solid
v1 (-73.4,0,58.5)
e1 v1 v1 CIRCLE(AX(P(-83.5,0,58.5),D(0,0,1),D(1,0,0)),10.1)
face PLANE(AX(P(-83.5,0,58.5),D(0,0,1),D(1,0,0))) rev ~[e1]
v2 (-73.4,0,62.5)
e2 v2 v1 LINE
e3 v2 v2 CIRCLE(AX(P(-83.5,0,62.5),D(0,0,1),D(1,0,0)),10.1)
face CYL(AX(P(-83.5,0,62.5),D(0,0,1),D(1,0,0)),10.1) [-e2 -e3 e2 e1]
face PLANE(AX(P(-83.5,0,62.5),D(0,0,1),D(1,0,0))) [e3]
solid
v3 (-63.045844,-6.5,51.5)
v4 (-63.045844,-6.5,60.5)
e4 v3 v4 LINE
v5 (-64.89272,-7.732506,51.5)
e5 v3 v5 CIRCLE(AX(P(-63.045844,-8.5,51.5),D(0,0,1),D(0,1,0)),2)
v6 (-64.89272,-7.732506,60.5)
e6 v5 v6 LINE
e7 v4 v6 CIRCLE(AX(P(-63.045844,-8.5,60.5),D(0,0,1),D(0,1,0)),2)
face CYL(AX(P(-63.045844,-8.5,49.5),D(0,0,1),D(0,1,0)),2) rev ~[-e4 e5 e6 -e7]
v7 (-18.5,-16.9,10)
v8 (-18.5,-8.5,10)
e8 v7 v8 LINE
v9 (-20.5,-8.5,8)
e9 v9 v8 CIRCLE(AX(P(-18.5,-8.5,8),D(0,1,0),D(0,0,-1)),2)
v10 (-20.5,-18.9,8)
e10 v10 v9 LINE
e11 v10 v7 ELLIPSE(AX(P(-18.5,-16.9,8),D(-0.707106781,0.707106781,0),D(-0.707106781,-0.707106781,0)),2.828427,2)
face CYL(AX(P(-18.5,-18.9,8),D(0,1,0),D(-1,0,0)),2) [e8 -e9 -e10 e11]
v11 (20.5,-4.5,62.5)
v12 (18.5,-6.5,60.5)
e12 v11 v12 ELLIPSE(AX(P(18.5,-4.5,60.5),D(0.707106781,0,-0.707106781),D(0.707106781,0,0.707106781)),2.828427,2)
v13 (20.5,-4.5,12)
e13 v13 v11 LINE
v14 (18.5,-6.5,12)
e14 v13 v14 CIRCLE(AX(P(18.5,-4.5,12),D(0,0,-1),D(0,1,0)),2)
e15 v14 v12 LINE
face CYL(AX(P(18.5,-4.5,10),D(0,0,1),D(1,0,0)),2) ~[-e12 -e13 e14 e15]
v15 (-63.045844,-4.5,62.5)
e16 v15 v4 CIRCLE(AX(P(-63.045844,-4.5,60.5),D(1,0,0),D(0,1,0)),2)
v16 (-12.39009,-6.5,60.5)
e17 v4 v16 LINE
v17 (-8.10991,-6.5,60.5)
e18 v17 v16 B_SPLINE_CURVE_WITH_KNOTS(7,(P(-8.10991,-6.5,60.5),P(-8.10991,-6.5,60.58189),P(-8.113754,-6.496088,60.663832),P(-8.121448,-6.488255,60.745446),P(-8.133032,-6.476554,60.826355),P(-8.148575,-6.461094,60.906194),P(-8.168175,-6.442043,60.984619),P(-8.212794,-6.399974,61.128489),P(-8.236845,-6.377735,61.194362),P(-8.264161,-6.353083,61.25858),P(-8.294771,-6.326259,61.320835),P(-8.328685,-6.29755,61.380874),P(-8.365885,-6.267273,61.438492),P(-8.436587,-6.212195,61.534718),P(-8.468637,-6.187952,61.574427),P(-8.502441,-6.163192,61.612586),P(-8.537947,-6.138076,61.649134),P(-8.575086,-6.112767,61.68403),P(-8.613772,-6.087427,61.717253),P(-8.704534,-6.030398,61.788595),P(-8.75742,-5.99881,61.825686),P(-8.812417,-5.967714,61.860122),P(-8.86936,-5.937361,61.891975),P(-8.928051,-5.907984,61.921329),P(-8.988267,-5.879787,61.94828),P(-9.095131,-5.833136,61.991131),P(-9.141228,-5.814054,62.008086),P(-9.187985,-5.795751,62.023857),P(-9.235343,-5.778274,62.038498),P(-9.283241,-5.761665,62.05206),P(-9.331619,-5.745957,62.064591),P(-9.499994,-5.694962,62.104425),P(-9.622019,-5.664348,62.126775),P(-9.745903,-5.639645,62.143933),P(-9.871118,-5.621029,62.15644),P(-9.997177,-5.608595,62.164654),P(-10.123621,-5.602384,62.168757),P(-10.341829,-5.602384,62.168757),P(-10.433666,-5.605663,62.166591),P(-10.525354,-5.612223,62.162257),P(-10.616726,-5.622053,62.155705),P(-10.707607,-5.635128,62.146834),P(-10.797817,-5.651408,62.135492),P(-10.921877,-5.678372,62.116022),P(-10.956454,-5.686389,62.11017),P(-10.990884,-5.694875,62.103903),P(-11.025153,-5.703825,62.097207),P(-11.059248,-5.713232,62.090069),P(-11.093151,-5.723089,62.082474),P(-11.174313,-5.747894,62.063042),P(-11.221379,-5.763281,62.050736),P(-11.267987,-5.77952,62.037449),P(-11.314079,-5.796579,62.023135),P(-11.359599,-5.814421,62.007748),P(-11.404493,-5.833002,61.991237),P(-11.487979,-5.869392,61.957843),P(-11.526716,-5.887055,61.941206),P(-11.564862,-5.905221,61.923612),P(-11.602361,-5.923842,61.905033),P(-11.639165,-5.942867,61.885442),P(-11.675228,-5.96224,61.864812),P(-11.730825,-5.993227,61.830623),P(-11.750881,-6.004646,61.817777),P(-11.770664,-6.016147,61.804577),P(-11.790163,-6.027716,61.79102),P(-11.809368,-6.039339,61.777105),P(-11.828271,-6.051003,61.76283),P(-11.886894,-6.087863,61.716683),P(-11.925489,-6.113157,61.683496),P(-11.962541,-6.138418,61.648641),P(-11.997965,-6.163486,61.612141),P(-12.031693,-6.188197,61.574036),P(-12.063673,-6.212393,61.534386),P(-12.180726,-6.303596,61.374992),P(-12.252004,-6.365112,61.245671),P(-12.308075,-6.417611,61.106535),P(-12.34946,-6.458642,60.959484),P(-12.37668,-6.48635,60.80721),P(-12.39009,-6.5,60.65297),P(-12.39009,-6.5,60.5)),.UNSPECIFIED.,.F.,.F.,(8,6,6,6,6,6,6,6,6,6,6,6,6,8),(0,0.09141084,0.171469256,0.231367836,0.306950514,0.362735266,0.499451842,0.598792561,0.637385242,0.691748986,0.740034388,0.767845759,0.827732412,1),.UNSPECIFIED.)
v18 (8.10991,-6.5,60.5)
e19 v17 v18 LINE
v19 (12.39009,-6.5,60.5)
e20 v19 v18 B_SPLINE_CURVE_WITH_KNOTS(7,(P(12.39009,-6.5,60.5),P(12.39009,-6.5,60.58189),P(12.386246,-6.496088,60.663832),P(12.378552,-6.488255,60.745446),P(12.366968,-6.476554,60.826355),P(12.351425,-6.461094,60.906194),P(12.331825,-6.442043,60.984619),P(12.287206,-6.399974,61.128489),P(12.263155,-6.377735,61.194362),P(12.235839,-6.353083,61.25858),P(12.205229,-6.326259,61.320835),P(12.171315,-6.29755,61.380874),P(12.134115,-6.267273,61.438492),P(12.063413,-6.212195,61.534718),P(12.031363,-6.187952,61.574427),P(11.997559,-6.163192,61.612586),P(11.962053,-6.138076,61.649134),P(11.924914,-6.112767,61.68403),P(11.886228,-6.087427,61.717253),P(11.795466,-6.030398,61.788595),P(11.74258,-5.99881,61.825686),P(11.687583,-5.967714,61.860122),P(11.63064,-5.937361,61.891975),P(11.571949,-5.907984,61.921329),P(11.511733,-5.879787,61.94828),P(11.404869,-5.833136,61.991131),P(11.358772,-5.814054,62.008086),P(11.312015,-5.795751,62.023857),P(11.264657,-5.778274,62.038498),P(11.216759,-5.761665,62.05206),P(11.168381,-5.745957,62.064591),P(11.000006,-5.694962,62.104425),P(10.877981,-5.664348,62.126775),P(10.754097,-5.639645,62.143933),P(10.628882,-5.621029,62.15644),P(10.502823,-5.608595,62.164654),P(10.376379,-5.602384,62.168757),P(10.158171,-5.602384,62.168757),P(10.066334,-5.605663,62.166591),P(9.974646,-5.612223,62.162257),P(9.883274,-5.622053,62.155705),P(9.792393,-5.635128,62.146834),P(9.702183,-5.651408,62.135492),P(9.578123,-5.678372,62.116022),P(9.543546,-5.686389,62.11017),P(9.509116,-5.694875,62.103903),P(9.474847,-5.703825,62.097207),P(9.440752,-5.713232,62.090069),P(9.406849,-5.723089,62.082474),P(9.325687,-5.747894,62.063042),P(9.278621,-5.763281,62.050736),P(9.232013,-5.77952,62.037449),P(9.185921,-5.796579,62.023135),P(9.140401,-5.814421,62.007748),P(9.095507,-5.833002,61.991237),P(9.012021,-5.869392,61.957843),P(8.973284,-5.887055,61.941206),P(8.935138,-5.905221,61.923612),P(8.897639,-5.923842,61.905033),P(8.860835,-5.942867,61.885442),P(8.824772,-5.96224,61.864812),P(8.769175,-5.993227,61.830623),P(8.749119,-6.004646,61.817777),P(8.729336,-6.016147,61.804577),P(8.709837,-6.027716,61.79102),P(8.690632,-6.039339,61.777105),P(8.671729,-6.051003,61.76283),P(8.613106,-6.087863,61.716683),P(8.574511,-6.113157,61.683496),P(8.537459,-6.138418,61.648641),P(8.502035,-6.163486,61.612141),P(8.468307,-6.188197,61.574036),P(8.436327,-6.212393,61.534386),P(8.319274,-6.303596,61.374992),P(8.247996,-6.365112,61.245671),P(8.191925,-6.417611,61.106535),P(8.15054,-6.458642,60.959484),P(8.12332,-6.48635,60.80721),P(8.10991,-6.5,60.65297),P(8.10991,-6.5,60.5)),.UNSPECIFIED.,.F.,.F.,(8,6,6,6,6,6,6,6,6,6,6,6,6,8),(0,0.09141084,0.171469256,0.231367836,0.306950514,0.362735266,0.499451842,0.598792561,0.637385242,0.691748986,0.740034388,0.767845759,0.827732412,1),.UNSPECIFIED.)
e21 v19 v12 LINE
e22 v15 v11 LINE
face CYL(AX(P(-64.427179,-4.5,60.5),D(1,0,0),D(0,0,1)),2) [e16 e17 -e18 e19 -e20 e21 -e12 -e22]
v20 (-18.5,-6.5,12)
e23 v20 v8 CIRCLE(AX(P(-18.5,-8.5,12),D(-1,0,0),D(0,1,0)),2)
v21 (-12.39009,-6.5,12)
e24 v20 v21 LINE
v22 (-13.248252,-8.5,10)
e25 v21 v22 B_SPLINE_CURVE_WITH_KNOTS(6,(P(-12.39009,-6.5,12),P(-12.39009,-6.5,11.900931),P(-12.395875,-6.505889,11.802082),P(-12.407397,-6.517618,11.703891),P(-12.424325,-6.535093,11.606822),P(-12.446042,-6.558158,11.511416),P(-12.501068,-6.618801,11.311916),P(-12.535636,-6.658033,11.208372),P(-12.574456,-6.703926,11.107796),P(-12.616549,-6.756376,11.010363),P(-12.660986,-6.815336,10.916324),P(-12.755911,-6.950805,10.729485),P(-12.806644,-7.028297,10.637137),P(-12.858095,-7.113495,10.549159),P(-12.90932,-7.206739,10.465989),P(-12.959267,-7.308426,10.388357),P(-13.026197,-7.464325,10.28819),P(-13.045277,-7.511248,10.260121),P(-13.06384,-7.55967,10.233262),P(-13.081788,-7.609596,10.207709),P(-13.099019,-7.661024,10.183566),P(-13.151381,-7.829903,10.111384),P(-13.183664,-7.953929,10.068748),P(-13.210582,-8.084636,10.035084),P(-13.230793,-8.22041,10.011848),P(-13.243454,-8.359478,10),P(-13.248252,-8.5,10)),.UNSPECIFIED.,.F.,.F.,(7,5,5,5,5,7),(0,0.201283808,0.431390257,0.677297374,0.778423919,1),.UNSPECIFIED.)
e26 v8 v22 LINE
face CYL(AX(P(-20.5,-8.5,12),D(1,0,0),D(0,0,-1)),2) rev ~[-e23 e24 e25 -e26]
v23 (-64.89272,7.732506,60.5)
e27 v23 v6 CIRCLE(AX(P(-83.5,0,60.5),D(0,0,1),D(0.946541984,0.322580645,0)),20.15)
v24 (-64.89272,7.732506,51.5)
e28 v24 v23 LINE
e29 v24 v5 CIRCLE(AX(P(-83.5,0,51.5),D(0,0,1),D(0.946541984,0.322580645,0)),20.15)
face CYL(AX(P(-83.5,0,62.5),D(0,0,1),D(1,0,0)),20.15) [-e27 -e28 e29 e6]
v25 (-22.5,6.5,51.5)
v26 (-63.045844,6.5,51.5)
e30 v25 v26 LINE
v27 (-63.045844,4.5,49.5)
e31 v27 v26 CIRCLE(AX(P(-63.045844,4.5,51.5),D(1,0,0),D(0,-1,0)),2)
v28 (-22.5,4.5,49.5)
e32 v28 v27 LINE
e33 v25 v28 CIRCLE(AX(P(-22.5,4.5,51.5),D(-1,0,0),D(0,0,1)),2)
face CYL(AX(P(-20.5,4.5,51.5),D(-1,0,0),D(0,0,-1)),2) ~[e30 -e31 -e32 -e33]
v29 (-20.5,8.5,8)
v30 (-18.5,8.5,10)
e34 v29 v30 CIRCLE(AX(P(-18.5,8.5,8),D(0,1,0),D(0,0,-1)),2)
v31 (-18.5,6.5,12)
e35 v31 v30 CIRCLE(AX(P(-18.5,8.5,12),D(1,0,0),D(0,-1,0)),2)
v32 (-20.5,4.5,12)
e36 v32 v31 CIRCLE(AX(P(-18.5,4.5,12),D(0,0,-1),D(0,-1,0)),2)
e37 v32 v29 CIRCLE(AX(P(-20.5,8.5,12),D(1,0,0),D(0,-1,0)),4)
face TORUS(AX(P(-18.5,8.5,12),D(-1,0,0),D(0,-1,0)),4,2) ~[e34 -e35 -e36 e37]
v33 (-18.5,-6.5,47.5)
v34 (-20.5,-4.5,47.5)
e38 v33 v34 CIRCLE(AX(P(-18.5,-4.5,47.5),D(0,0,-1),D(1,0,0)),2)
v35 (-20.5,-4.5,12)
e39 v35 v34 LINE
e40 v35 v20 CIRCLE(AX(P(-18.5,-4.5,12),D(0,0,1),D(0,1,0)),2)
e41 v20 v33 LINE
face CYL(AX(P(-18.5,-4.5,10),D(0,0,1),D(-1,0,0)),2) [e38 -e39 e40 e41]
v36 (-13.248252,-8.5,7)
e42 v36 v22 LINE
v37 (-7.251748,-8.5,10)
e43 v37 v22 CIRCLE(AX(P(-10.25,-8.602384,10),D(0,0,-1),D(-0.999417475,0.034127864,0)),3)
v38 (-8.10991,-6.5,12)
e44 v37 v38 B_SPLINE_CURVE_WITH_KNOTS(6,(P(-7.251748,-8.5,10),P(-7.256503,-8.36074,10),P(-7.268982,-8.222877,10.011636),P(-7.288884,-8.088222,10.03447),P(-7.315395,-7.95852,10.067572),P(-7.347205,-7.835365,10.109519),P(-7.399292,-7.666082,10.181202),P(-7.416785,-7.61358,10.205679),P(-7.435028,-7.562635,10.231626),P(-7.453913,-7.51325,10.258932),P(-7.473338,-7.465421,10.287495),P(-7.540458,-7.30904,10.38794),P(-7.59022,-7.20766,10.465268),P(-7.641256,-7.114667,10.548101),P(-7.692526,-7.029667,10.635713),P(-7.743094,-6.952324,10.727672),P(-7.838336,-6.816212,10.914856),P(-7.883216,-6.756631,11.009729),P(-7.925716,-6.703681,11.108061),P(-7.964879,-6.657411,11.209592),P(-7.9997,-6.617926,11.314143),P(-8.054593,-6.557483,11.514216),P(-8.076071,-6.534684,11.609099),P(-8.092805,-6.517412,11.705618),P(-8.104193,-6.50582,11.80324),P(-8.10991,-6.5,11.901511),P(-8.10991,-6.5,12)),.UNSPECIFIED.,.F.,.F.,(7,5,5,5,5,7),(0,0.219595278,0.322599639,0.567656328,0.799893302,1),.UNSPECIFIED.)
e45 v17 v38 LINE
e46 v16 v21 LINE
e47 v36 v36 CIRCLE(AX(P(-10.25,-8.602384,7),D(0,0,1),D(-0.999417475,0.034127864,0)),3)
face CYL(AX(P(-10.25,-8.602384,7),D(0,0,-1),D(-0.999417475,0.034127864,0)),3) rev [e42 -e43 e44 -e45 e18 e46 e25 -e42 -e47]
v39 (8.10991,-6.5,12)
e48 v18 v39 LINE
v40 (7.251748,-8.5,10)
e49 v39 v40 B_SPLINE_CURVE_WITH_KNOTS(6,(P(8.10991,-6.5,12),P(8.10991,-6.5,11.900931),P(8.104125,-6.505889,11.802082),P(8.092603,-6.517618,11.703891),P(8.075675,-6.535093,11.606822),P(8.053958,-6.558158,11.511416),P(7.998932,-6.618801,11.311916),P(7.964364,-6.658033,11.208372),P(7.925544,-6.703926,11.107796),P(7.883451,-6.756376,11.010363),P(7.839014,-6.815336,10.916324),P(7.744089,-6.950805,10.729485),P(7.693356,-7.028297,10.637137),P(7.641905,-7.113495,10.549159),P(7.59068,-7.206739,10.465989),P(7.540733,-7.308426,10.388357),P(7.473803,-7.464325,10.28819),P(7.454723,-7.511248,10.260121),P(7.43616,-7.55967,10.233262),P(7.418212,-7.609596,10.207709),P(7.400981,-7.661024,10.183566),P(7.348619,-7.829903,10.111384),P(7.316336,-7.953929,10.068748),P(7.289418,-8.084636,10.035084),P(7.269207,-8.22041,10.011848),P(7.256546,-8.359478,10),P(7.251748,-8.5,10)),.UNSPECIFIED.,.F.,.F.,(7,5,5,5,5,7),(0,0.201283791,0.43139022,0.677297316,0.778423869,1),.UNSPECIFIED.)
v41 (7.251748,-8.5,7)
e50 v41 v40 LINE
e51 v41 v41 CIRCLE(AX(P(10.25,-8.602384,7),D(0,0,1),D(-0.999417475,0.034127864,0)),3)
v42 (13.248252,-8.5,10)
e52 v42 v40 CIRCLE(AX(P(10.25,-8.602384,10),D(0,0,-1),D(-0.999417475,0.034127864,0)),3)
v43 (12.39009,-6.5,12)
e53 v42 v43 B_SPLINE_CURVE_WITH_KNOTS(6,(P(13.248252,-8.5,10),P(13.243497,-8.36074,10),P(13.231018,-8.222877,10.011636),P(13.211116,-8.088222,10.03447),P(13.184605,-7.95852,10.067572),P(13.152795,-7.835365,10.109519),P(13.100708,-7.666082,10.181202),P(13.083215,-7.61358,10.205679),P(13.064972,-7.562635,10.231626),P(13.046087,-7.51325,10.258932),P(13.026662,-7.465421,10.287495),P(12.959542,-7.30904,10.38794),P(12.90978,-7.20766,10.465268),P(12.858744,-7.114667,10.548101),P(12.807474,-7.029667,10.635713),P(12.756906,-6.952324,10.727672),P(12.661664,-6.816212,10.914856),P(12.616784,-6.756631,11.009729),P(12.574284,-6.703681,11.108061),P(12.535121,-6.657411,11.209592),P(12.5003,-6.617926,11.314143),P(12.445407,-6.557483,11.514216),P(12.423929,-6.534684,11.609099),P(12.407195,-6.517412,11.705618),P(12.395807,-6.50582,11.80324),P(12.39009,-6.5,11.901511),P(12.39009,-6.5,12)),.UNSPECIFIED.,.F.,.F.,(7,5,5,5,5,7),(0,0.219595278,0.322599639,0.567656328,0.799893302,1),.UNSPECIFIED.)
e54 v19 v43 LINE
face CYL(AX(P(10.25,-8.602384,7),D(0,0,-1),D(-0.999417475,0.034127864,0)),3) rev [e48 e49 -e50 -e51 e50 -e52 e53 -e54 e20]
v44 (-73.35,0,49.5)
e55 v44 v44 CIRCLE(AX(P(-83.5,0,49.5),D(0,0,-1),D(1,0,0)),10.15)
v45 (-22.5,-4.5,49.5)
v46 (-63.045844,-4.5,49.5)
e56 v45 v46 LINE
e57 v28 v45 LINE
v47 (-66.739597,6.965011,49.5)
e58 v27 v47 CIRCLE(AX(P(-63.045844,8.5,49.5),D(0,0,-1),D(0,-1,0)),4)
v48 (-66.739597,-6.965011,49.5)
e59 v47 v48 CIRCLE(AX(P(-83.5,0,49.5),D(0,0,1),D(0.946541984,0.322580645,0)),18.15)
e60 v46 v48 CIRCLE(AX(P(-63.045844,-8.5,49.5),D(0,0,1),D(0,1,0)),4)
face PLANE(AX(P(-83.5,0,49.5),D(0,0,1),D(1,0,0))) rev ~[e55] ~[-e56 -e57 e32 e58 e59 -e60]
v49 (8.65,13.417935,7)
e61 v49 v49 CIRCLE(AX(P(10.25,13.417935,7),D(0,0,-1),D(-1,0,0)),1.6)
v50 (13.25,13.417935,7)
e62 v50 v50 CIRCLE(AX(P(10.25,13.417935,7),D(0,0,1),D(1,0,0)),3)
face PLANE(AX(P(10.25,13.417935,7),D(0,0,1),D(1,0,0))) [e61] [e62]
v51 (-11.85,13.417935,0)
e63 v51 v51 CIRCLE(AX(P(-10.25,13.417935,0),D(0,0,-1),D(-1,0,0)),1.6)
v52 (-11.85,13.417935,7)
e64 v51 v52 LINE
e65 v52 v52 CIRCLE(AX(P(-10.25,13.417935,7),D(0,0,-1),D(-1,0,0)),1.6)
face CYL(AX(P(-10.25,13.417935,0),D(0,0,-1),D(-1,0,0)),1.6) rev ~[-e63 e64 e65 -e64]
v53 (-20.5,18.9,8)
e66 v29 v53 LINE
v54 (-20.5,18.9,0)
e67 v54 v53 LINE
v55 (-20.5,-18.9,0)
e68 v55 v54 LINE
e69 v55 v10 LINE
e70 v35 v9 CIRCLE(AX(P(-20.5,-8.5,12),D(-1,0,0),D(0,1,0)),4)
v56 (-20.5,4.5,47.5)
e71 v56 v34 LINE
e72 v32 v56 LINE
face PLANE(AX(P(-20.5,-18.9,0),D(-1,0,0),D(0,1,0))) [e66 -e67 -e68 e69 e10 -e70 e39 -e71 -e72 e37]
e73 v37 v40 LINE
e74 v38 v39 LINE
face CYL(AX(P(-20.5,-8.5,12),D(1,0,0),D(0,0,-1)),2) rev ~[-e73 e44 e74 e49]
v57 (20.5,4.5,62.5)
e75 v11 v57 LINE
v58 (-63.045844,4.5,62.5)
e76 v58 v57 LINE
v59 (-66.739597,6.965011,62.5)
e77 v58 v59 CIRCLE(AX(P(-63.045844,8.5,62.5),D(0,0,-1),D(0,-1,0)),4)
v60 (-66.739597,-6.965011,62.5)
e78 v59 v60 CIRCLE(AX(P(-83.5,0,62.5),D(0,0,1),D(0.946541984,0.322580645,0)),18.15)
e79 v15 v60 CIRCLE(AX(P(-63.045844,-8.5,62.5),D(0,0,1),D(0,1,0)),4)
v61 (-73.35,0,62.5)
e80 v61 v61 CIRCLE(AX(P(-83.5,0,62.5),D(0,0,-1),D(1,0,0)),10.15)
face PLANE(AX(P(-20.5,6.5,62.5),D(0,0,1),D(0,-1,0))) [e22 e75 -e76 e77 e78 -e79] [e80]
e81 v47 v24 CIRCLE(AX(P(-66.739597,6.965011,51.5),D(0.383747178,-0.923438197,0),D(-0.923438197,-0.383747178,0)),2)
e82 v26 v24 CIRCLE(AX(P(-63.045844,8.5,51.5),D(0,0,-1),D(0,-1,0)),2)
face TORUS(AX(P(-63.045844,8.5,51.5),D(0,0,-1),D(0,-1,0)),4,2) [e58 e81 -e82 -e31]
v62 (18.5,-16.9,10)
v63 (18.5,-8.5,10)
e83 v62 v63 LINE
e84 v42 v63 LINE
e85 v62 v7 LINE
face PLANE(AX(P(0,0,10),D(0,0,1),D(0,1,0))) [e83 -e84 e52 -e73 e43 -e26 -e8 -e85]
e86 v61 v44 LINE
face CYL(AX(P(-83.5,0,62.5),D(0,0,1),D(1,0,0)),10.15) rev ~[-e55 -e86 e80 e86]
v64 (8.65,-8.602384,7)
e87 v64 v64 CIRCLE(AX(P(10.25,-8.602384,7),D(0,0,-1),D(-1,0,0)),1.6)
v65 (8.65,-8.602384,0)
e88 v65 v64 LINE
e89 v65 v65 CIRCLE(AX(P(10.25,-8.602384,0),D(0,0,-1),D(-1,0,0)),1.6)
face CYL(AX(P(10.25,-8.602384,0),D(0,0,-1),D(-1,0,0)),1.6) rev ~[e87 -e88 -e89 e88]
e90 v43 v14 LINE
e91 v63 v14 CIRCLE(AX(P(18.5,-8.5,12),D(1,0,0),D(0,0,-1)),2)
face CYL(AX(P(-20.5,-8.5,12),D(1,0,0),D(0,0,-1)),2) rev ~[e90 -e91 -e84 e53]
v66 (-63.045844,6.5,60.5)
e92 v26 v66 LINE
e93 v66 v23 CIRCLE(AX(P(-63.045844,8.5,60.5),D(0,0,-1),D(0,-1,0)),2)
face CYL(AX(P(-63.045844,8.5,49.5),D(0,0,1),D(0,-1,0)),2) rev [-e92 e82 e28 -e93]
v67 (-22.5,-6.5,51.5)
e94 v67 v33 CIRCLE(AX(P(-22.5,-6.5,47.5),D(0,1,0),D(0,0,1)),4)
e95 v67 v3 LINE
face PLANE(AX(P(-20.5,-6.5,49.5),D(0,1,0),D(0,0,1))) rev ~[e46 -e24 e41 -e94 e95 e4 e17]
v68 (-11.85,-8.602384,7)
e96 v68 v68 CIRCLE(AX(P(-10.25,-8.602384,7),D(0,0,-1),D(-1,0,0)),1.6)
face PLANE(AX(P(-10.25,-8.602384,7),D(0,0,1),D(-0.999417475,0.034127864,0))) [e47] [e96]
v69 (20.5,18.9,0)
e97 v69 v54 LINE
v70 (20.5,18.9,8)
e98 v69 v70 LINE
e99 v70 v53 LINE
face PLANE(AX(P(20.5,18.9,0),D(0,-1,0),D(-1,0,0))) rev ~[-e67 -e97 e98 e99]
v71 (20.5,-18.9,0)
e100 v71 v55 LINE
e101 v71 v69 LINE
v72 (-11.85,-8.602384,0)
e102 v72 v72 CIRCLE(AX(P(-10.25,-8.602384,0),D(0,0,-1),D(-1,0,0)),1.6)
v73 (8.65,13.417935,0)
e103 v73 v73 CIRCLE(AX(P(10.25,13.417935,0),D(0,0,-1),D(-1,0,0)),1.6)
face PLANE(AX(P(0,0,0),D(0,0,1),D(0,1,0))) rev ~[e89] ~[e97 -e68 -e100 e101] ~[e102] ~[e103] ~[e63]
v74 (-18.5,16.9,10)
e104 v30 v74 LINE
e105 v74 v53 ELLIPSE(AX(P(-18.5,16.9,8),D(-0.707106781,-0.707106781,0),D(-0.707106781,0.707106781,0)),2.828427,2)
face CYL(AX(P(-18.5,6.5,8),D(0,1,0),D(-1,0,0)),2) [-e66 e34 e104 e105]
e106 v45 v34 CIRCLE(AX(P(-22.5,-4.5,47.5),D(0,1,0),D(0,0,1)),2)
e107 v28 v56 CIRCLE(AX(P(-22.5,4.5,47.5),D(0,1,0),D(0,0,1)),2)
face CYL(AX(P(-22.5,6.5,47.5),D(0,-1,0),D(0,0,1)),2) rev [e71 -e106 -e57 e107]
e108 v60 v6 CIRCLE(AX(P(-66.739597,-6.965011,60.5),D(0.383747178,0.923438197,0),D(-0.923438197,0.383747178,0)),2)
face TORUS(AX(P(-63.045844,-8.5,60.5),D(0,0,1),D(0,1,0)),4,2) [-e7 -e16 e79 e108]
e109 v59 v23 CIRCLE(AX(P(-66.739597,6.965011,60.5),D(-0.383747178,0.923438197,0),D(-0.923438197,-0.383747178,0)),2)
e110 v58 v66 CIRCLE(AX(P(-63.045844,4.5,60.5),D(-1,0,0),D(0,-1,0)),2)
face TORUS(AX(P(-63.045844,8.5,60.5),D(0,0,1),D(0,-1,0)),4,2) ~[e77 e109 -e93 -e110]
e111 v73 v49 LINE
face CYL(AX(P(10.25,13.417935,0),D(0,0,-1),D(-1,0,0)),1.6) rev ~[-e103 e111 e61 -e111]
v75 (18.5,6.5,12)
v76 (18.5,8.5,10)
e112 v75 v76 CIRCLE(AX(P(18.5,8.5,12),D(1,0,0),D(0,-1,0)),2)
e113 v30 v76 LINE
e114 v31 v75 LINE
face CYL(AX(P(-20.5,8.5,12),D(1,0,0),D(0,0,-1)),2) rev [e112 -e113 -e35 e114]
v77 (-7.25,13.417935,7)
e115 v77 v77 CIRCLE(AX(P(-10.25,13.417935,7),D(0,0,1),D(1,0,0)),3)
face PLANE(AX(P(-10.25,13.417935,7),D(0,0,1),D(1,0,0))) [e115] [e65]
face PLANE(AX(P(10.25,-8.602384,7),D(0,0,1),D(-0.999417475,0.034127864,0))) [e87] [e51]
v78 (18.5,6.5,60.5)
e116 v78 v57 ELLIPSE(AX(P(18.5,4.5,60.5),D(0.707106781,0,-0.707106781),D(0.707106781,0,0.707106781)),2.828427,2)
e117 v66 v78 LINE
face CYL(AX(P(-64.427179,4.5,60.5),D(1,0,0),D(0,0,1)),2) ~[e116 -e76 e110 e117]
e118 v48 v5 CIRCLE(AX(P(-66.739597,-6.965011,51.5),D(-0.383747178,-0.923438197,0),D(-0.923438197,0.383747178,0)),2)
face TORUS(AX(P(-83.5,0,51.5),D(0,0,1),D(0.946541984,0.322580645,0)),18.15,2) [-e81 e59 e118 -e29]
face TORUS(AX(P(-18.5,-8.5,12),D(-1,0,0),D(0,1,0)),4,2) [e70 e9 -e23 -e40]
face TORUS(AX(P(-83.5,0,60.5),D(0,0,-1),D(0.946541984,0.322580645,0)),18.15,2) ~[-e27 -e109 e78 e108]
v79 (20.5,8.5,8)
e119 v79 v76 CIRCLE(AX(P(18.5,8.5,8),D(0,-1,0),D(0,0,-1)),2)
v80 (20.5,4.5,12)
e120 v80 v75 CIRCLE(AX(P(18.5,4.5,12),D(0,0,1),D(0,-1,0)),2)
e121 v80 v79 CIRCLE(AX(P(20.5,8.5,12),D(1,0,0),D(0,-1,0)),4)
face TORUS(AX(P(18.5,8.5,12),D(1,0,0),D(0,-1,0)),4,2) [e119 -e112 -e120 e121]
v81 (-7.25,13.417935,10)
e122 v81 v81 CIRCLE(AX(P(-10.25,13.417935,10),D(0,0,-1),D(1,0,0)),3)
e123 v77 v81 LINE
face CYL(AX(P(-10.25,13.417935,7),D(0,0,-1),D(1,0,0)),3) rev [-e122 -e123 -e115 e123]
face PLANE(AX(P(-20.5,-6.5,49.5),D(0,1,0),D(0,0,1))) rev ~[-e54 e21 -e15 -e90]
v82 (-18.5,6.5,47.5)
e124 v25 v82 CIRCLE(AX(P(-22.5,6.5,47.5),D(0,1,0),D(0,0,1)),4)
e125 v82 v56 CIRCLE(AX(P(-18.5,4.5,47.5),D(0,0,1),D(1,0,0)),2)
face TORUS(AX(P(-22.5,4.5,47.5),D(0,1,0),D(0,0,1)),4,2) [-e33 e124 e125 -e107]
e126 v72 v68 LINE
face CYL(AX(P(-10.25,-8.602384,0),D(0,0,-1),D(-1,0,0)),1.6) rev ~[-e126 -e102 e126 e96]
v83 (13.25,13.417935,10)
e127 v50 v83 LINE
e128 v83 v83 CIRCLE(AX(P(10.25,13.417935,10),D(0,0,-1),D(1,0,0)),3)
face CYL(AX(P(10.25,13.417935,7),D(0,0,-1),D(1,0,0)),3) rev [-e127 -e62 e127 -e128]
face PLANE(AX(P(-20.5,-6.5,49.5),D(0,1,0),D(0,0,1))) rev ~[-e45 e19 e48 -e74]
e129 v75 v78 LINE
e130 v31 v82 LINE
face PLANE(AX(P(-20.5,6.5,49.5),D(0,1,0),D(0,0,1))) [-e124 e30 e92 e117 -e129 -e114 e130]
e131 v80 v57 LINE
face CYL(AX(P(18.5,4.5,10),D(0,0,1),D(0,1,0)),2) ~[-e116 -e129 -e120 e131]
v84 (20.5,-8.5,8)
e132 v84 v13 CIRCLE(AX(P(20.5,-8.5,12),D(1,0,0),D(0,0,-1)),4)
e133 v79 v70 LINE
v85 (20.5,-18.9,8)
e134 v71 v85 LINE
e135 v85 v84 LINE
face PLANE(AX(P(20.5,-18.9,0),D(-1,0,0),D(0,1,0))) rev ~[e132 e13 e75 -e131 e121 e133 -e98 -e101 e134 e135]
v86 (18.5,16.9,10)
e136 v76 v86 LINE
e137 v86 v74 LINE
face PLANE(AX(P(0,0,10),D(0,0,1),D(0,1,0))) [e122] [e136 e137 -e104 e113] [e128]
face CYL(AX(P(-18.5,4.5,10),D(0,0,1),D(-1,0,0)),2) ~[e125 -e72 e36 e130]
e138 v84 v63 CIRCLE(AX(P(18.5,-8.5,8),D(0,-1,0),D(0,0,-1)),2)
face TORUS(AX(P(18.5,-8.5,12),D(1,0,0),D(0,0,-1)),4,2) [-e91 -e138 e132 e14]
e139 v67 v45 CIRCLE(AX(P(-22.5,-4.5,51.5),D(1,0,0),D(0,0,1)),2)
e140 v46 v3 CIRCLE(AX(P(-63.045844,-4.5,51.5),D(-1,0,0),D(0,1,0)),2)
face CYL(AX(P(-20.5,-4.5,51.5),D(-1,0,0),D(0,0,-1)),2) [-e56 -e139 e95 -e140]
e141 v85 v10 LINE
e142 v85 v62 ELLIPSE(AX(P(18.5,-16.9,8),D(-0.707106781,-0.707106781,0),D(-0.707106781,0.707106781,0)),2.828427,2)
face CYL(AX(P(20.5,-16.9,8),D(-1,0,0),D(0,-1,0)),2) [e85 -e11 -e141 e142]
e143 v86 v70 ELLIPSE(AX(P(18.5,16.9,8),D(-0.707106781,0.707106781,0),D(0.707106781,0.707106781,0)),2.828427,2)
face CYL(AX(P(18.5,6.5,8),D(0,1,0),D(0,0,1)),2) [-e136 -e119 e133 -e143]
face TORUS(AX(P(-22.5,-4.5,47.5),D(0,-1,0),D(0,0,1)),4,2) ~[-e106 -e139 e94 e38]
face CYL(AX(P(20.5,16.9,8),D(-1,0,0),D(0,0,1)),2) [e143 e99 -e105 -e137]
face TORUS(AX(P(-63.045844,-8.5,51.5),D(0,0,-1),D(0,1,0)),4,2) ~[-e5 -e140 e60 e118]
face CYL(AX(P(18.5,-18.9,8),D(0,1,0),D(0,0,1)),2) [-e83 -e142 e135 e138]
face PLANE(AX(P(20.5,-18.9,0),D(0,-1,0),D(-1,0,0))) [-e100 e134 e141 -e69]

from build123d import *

# Parameters (mm, degrees)
SKETCH1_W               = 37.8
SKETCH1_H               = 41
BOSS_EXTRUDE1_DEPTH     = 10
SKETCH2_W               = 41
SKETCH2_H               = 13
BOSS_EXTRUDE2_DEPTH     = 52.5
SKETCH3_W               = 13
SKETCH3_H               = 13
BOSS_EXTRUDE3_DEPTH     = 63
SKETCH4_R               = 20.15
SKETCH4_R_2             = 10.15
EXTRUDE_THIN1_DEPTH     = 13
SKETCH5_R               = 10.15
CUT_EXTRUDE1_DEPTH      = 100
SKETCH6_R               = 10.1
BOSS_EXTRUDE4_DEPTH     = 4
FILLET2_R               = 2
SKETCH7_R               = 1.6
CUT_EXTRUDE2_DEPTH      = 123.701242963
CUT_EXTRUDE3_DEPTH      = 118.921987029
CUT_EXTRUDE3_DEPTH_BACK = 3
SKETCH8_R               = 3


with BuildPart() as part:
    # Sketch1 → Boss-Extrude1 (new body)
    with BuildSketch(Plane(origin=(0, 0, 0), x_dir=(0, 1, 0), z_dir=(0, 0, 1))):
        Rectangle(SKETCH1_W, SKETCH1_H)
    extrude(amount=BOSS_EXTRUDE1_DEPTH)

    # Sketch2 → Boss-Extrude2 (add)
    with BuildSketch(Plane.XY.offset(10)):
        Rectangle(SKETCH2_W, SKETCH2_H)
    extrude(amount=BOSS_EXTRUDE2_DEPTH)

    # Sketch3 → Boss-Extrude3 (add)
    with BuildSketch(Plane(origin=(-20.5, 0, 0), x_dir=(0, -1, 0), z_dir=(-1, 0, 0))):
        with Locations((0, 56)):
            Rectangle(SKETCH3_W, SKETCH3_H)
    extrude(amount=BOSS_EXTRUDE3_DEPTH)

    # Sketch4 → Extrude-Thin1 (add)
    with BuildSketch(Plane.XY.offset(62.5)):
        with Locations((-83.5, 0)):
            Circle(SKETCH4_R)
        with Locations((-83.5, 0)):
            Circle(SKETCH4_R_2, mode=Mode.SUBTRACT)
    extrude(amount=-EXTRUDE_THIN1_DEPTH)

    # Sketch5 → Cut-Extrude1 (cut)
    with BuildSketch(Plane.XY.offset(62.5)):
        with Locations((-83.5, 0)):
            Circle(SKETCH5_R)
    extrude(amount=-CUT_EXTRUDE1_DEPTH, mode=Mode.SUBTRACT)

    # Fillet2
    fillet2_edges = [part.edges().sort_by_distance(p)[0] for p in [
        (0, -18.9, 10),
        (-20.5, -12.7, 10),
        (20.5, 12.7, 10),
        (20.5, -12.7, 10),
        (20.5, -6.5, 36.25),
        (0, 6.5, 10),
        (20.5, 6.5, 36.25),
        (0, -6.5, 10),
        (-21.963589512, 6.5, 62.5),
        (-20.5, -6.5, 29.75),
        (-20.5, 6.5, 29.75),
        (-20.5, 0, 49.5),
        (-42.463589512, -6.5, 49.5),
        (-42.463589512, 6.5, 49.5),
        (-21.963589512, -6.5, 62.5),
        (-103.65, 0, 62.5),
        (-103.65, 0, 49.5),
        (0, 18.9, 10),
        (-64.427179024, 6.5, 56),
        (-64.427179024, -6.5, 56),
        (-20.5, 12.7, 10),
    ]]
    fillet(fillet2_edges, radius=FILLET2_R)

    # Sketch7 → Cut-Extrude2 (cut, through all)
    with BuildSketch(Plane(origin=(0, 0, 0), x_dir=(1, 0, 0), z_dir=(0, 0, -1))):
        with Locations(Location((-10.25, -13.417934674, 0), (0, 0, 180))):
            Circle(SKETCH7_R)
        with Locations(Location((-10.25, 8.602383592, 0), (0, 0, 180))):
            Circle(SKETCH7_R)
        with Locations(Location((10.25, -13.417934674, 0), (0, 0, 180))):
            Circle(SKETCH7_R)
        with Locations(Location((10.25, 8.602383592, 0), (0, 0, 180))):
            Circle(SKETCH7_R)
    extrude(amount=-CUT_EXTRUDE2_DEPTH, mode=Mode.SUBTRACT)

    # Sketch8 → Cut-Extrude3 (cut, two sides: drawn at the far end of the back side and taken through both)
    with BuildSketch(Plane.XY.offset(10).offset(-CUT_EXTRUDE3_DEPTH_BACK)):
        with Locations((10.25, 13.417934674)):
            Circle(SKETCH8_R)
        with Locations((-10.25, 13.417934674)):
            Circle(SKETCH8_R)
        with Locations(Location((-10.25, -8.602383592, 0), (0, 0, 178.04423765))):
            Circle(SKETCH8_R)
        with Locations(Location((10.25, -8.602383592, 0), (0, 0, 178.04423765))):
            Circle(SKETCH8_R)
    extrude(amount=CUT_EXTRUDE3_DEPTH + CUT_EXTRUDE3_DEPTH_BACK, mode=Mode.SUBTRACT)


with BuildPart() as body_2:
    # Sketch6 → Boss-Extrude4 (new body)
    with BuildSketch(Plane.XY.offset(62.5)):
        with Locations((-83.5, 0)):
            Circle(SKETCH6_R)
    extrude(amount=-BOSS_EXTRUDE4_DEPTH)


solid = Compound([part.part, body_2.part])
